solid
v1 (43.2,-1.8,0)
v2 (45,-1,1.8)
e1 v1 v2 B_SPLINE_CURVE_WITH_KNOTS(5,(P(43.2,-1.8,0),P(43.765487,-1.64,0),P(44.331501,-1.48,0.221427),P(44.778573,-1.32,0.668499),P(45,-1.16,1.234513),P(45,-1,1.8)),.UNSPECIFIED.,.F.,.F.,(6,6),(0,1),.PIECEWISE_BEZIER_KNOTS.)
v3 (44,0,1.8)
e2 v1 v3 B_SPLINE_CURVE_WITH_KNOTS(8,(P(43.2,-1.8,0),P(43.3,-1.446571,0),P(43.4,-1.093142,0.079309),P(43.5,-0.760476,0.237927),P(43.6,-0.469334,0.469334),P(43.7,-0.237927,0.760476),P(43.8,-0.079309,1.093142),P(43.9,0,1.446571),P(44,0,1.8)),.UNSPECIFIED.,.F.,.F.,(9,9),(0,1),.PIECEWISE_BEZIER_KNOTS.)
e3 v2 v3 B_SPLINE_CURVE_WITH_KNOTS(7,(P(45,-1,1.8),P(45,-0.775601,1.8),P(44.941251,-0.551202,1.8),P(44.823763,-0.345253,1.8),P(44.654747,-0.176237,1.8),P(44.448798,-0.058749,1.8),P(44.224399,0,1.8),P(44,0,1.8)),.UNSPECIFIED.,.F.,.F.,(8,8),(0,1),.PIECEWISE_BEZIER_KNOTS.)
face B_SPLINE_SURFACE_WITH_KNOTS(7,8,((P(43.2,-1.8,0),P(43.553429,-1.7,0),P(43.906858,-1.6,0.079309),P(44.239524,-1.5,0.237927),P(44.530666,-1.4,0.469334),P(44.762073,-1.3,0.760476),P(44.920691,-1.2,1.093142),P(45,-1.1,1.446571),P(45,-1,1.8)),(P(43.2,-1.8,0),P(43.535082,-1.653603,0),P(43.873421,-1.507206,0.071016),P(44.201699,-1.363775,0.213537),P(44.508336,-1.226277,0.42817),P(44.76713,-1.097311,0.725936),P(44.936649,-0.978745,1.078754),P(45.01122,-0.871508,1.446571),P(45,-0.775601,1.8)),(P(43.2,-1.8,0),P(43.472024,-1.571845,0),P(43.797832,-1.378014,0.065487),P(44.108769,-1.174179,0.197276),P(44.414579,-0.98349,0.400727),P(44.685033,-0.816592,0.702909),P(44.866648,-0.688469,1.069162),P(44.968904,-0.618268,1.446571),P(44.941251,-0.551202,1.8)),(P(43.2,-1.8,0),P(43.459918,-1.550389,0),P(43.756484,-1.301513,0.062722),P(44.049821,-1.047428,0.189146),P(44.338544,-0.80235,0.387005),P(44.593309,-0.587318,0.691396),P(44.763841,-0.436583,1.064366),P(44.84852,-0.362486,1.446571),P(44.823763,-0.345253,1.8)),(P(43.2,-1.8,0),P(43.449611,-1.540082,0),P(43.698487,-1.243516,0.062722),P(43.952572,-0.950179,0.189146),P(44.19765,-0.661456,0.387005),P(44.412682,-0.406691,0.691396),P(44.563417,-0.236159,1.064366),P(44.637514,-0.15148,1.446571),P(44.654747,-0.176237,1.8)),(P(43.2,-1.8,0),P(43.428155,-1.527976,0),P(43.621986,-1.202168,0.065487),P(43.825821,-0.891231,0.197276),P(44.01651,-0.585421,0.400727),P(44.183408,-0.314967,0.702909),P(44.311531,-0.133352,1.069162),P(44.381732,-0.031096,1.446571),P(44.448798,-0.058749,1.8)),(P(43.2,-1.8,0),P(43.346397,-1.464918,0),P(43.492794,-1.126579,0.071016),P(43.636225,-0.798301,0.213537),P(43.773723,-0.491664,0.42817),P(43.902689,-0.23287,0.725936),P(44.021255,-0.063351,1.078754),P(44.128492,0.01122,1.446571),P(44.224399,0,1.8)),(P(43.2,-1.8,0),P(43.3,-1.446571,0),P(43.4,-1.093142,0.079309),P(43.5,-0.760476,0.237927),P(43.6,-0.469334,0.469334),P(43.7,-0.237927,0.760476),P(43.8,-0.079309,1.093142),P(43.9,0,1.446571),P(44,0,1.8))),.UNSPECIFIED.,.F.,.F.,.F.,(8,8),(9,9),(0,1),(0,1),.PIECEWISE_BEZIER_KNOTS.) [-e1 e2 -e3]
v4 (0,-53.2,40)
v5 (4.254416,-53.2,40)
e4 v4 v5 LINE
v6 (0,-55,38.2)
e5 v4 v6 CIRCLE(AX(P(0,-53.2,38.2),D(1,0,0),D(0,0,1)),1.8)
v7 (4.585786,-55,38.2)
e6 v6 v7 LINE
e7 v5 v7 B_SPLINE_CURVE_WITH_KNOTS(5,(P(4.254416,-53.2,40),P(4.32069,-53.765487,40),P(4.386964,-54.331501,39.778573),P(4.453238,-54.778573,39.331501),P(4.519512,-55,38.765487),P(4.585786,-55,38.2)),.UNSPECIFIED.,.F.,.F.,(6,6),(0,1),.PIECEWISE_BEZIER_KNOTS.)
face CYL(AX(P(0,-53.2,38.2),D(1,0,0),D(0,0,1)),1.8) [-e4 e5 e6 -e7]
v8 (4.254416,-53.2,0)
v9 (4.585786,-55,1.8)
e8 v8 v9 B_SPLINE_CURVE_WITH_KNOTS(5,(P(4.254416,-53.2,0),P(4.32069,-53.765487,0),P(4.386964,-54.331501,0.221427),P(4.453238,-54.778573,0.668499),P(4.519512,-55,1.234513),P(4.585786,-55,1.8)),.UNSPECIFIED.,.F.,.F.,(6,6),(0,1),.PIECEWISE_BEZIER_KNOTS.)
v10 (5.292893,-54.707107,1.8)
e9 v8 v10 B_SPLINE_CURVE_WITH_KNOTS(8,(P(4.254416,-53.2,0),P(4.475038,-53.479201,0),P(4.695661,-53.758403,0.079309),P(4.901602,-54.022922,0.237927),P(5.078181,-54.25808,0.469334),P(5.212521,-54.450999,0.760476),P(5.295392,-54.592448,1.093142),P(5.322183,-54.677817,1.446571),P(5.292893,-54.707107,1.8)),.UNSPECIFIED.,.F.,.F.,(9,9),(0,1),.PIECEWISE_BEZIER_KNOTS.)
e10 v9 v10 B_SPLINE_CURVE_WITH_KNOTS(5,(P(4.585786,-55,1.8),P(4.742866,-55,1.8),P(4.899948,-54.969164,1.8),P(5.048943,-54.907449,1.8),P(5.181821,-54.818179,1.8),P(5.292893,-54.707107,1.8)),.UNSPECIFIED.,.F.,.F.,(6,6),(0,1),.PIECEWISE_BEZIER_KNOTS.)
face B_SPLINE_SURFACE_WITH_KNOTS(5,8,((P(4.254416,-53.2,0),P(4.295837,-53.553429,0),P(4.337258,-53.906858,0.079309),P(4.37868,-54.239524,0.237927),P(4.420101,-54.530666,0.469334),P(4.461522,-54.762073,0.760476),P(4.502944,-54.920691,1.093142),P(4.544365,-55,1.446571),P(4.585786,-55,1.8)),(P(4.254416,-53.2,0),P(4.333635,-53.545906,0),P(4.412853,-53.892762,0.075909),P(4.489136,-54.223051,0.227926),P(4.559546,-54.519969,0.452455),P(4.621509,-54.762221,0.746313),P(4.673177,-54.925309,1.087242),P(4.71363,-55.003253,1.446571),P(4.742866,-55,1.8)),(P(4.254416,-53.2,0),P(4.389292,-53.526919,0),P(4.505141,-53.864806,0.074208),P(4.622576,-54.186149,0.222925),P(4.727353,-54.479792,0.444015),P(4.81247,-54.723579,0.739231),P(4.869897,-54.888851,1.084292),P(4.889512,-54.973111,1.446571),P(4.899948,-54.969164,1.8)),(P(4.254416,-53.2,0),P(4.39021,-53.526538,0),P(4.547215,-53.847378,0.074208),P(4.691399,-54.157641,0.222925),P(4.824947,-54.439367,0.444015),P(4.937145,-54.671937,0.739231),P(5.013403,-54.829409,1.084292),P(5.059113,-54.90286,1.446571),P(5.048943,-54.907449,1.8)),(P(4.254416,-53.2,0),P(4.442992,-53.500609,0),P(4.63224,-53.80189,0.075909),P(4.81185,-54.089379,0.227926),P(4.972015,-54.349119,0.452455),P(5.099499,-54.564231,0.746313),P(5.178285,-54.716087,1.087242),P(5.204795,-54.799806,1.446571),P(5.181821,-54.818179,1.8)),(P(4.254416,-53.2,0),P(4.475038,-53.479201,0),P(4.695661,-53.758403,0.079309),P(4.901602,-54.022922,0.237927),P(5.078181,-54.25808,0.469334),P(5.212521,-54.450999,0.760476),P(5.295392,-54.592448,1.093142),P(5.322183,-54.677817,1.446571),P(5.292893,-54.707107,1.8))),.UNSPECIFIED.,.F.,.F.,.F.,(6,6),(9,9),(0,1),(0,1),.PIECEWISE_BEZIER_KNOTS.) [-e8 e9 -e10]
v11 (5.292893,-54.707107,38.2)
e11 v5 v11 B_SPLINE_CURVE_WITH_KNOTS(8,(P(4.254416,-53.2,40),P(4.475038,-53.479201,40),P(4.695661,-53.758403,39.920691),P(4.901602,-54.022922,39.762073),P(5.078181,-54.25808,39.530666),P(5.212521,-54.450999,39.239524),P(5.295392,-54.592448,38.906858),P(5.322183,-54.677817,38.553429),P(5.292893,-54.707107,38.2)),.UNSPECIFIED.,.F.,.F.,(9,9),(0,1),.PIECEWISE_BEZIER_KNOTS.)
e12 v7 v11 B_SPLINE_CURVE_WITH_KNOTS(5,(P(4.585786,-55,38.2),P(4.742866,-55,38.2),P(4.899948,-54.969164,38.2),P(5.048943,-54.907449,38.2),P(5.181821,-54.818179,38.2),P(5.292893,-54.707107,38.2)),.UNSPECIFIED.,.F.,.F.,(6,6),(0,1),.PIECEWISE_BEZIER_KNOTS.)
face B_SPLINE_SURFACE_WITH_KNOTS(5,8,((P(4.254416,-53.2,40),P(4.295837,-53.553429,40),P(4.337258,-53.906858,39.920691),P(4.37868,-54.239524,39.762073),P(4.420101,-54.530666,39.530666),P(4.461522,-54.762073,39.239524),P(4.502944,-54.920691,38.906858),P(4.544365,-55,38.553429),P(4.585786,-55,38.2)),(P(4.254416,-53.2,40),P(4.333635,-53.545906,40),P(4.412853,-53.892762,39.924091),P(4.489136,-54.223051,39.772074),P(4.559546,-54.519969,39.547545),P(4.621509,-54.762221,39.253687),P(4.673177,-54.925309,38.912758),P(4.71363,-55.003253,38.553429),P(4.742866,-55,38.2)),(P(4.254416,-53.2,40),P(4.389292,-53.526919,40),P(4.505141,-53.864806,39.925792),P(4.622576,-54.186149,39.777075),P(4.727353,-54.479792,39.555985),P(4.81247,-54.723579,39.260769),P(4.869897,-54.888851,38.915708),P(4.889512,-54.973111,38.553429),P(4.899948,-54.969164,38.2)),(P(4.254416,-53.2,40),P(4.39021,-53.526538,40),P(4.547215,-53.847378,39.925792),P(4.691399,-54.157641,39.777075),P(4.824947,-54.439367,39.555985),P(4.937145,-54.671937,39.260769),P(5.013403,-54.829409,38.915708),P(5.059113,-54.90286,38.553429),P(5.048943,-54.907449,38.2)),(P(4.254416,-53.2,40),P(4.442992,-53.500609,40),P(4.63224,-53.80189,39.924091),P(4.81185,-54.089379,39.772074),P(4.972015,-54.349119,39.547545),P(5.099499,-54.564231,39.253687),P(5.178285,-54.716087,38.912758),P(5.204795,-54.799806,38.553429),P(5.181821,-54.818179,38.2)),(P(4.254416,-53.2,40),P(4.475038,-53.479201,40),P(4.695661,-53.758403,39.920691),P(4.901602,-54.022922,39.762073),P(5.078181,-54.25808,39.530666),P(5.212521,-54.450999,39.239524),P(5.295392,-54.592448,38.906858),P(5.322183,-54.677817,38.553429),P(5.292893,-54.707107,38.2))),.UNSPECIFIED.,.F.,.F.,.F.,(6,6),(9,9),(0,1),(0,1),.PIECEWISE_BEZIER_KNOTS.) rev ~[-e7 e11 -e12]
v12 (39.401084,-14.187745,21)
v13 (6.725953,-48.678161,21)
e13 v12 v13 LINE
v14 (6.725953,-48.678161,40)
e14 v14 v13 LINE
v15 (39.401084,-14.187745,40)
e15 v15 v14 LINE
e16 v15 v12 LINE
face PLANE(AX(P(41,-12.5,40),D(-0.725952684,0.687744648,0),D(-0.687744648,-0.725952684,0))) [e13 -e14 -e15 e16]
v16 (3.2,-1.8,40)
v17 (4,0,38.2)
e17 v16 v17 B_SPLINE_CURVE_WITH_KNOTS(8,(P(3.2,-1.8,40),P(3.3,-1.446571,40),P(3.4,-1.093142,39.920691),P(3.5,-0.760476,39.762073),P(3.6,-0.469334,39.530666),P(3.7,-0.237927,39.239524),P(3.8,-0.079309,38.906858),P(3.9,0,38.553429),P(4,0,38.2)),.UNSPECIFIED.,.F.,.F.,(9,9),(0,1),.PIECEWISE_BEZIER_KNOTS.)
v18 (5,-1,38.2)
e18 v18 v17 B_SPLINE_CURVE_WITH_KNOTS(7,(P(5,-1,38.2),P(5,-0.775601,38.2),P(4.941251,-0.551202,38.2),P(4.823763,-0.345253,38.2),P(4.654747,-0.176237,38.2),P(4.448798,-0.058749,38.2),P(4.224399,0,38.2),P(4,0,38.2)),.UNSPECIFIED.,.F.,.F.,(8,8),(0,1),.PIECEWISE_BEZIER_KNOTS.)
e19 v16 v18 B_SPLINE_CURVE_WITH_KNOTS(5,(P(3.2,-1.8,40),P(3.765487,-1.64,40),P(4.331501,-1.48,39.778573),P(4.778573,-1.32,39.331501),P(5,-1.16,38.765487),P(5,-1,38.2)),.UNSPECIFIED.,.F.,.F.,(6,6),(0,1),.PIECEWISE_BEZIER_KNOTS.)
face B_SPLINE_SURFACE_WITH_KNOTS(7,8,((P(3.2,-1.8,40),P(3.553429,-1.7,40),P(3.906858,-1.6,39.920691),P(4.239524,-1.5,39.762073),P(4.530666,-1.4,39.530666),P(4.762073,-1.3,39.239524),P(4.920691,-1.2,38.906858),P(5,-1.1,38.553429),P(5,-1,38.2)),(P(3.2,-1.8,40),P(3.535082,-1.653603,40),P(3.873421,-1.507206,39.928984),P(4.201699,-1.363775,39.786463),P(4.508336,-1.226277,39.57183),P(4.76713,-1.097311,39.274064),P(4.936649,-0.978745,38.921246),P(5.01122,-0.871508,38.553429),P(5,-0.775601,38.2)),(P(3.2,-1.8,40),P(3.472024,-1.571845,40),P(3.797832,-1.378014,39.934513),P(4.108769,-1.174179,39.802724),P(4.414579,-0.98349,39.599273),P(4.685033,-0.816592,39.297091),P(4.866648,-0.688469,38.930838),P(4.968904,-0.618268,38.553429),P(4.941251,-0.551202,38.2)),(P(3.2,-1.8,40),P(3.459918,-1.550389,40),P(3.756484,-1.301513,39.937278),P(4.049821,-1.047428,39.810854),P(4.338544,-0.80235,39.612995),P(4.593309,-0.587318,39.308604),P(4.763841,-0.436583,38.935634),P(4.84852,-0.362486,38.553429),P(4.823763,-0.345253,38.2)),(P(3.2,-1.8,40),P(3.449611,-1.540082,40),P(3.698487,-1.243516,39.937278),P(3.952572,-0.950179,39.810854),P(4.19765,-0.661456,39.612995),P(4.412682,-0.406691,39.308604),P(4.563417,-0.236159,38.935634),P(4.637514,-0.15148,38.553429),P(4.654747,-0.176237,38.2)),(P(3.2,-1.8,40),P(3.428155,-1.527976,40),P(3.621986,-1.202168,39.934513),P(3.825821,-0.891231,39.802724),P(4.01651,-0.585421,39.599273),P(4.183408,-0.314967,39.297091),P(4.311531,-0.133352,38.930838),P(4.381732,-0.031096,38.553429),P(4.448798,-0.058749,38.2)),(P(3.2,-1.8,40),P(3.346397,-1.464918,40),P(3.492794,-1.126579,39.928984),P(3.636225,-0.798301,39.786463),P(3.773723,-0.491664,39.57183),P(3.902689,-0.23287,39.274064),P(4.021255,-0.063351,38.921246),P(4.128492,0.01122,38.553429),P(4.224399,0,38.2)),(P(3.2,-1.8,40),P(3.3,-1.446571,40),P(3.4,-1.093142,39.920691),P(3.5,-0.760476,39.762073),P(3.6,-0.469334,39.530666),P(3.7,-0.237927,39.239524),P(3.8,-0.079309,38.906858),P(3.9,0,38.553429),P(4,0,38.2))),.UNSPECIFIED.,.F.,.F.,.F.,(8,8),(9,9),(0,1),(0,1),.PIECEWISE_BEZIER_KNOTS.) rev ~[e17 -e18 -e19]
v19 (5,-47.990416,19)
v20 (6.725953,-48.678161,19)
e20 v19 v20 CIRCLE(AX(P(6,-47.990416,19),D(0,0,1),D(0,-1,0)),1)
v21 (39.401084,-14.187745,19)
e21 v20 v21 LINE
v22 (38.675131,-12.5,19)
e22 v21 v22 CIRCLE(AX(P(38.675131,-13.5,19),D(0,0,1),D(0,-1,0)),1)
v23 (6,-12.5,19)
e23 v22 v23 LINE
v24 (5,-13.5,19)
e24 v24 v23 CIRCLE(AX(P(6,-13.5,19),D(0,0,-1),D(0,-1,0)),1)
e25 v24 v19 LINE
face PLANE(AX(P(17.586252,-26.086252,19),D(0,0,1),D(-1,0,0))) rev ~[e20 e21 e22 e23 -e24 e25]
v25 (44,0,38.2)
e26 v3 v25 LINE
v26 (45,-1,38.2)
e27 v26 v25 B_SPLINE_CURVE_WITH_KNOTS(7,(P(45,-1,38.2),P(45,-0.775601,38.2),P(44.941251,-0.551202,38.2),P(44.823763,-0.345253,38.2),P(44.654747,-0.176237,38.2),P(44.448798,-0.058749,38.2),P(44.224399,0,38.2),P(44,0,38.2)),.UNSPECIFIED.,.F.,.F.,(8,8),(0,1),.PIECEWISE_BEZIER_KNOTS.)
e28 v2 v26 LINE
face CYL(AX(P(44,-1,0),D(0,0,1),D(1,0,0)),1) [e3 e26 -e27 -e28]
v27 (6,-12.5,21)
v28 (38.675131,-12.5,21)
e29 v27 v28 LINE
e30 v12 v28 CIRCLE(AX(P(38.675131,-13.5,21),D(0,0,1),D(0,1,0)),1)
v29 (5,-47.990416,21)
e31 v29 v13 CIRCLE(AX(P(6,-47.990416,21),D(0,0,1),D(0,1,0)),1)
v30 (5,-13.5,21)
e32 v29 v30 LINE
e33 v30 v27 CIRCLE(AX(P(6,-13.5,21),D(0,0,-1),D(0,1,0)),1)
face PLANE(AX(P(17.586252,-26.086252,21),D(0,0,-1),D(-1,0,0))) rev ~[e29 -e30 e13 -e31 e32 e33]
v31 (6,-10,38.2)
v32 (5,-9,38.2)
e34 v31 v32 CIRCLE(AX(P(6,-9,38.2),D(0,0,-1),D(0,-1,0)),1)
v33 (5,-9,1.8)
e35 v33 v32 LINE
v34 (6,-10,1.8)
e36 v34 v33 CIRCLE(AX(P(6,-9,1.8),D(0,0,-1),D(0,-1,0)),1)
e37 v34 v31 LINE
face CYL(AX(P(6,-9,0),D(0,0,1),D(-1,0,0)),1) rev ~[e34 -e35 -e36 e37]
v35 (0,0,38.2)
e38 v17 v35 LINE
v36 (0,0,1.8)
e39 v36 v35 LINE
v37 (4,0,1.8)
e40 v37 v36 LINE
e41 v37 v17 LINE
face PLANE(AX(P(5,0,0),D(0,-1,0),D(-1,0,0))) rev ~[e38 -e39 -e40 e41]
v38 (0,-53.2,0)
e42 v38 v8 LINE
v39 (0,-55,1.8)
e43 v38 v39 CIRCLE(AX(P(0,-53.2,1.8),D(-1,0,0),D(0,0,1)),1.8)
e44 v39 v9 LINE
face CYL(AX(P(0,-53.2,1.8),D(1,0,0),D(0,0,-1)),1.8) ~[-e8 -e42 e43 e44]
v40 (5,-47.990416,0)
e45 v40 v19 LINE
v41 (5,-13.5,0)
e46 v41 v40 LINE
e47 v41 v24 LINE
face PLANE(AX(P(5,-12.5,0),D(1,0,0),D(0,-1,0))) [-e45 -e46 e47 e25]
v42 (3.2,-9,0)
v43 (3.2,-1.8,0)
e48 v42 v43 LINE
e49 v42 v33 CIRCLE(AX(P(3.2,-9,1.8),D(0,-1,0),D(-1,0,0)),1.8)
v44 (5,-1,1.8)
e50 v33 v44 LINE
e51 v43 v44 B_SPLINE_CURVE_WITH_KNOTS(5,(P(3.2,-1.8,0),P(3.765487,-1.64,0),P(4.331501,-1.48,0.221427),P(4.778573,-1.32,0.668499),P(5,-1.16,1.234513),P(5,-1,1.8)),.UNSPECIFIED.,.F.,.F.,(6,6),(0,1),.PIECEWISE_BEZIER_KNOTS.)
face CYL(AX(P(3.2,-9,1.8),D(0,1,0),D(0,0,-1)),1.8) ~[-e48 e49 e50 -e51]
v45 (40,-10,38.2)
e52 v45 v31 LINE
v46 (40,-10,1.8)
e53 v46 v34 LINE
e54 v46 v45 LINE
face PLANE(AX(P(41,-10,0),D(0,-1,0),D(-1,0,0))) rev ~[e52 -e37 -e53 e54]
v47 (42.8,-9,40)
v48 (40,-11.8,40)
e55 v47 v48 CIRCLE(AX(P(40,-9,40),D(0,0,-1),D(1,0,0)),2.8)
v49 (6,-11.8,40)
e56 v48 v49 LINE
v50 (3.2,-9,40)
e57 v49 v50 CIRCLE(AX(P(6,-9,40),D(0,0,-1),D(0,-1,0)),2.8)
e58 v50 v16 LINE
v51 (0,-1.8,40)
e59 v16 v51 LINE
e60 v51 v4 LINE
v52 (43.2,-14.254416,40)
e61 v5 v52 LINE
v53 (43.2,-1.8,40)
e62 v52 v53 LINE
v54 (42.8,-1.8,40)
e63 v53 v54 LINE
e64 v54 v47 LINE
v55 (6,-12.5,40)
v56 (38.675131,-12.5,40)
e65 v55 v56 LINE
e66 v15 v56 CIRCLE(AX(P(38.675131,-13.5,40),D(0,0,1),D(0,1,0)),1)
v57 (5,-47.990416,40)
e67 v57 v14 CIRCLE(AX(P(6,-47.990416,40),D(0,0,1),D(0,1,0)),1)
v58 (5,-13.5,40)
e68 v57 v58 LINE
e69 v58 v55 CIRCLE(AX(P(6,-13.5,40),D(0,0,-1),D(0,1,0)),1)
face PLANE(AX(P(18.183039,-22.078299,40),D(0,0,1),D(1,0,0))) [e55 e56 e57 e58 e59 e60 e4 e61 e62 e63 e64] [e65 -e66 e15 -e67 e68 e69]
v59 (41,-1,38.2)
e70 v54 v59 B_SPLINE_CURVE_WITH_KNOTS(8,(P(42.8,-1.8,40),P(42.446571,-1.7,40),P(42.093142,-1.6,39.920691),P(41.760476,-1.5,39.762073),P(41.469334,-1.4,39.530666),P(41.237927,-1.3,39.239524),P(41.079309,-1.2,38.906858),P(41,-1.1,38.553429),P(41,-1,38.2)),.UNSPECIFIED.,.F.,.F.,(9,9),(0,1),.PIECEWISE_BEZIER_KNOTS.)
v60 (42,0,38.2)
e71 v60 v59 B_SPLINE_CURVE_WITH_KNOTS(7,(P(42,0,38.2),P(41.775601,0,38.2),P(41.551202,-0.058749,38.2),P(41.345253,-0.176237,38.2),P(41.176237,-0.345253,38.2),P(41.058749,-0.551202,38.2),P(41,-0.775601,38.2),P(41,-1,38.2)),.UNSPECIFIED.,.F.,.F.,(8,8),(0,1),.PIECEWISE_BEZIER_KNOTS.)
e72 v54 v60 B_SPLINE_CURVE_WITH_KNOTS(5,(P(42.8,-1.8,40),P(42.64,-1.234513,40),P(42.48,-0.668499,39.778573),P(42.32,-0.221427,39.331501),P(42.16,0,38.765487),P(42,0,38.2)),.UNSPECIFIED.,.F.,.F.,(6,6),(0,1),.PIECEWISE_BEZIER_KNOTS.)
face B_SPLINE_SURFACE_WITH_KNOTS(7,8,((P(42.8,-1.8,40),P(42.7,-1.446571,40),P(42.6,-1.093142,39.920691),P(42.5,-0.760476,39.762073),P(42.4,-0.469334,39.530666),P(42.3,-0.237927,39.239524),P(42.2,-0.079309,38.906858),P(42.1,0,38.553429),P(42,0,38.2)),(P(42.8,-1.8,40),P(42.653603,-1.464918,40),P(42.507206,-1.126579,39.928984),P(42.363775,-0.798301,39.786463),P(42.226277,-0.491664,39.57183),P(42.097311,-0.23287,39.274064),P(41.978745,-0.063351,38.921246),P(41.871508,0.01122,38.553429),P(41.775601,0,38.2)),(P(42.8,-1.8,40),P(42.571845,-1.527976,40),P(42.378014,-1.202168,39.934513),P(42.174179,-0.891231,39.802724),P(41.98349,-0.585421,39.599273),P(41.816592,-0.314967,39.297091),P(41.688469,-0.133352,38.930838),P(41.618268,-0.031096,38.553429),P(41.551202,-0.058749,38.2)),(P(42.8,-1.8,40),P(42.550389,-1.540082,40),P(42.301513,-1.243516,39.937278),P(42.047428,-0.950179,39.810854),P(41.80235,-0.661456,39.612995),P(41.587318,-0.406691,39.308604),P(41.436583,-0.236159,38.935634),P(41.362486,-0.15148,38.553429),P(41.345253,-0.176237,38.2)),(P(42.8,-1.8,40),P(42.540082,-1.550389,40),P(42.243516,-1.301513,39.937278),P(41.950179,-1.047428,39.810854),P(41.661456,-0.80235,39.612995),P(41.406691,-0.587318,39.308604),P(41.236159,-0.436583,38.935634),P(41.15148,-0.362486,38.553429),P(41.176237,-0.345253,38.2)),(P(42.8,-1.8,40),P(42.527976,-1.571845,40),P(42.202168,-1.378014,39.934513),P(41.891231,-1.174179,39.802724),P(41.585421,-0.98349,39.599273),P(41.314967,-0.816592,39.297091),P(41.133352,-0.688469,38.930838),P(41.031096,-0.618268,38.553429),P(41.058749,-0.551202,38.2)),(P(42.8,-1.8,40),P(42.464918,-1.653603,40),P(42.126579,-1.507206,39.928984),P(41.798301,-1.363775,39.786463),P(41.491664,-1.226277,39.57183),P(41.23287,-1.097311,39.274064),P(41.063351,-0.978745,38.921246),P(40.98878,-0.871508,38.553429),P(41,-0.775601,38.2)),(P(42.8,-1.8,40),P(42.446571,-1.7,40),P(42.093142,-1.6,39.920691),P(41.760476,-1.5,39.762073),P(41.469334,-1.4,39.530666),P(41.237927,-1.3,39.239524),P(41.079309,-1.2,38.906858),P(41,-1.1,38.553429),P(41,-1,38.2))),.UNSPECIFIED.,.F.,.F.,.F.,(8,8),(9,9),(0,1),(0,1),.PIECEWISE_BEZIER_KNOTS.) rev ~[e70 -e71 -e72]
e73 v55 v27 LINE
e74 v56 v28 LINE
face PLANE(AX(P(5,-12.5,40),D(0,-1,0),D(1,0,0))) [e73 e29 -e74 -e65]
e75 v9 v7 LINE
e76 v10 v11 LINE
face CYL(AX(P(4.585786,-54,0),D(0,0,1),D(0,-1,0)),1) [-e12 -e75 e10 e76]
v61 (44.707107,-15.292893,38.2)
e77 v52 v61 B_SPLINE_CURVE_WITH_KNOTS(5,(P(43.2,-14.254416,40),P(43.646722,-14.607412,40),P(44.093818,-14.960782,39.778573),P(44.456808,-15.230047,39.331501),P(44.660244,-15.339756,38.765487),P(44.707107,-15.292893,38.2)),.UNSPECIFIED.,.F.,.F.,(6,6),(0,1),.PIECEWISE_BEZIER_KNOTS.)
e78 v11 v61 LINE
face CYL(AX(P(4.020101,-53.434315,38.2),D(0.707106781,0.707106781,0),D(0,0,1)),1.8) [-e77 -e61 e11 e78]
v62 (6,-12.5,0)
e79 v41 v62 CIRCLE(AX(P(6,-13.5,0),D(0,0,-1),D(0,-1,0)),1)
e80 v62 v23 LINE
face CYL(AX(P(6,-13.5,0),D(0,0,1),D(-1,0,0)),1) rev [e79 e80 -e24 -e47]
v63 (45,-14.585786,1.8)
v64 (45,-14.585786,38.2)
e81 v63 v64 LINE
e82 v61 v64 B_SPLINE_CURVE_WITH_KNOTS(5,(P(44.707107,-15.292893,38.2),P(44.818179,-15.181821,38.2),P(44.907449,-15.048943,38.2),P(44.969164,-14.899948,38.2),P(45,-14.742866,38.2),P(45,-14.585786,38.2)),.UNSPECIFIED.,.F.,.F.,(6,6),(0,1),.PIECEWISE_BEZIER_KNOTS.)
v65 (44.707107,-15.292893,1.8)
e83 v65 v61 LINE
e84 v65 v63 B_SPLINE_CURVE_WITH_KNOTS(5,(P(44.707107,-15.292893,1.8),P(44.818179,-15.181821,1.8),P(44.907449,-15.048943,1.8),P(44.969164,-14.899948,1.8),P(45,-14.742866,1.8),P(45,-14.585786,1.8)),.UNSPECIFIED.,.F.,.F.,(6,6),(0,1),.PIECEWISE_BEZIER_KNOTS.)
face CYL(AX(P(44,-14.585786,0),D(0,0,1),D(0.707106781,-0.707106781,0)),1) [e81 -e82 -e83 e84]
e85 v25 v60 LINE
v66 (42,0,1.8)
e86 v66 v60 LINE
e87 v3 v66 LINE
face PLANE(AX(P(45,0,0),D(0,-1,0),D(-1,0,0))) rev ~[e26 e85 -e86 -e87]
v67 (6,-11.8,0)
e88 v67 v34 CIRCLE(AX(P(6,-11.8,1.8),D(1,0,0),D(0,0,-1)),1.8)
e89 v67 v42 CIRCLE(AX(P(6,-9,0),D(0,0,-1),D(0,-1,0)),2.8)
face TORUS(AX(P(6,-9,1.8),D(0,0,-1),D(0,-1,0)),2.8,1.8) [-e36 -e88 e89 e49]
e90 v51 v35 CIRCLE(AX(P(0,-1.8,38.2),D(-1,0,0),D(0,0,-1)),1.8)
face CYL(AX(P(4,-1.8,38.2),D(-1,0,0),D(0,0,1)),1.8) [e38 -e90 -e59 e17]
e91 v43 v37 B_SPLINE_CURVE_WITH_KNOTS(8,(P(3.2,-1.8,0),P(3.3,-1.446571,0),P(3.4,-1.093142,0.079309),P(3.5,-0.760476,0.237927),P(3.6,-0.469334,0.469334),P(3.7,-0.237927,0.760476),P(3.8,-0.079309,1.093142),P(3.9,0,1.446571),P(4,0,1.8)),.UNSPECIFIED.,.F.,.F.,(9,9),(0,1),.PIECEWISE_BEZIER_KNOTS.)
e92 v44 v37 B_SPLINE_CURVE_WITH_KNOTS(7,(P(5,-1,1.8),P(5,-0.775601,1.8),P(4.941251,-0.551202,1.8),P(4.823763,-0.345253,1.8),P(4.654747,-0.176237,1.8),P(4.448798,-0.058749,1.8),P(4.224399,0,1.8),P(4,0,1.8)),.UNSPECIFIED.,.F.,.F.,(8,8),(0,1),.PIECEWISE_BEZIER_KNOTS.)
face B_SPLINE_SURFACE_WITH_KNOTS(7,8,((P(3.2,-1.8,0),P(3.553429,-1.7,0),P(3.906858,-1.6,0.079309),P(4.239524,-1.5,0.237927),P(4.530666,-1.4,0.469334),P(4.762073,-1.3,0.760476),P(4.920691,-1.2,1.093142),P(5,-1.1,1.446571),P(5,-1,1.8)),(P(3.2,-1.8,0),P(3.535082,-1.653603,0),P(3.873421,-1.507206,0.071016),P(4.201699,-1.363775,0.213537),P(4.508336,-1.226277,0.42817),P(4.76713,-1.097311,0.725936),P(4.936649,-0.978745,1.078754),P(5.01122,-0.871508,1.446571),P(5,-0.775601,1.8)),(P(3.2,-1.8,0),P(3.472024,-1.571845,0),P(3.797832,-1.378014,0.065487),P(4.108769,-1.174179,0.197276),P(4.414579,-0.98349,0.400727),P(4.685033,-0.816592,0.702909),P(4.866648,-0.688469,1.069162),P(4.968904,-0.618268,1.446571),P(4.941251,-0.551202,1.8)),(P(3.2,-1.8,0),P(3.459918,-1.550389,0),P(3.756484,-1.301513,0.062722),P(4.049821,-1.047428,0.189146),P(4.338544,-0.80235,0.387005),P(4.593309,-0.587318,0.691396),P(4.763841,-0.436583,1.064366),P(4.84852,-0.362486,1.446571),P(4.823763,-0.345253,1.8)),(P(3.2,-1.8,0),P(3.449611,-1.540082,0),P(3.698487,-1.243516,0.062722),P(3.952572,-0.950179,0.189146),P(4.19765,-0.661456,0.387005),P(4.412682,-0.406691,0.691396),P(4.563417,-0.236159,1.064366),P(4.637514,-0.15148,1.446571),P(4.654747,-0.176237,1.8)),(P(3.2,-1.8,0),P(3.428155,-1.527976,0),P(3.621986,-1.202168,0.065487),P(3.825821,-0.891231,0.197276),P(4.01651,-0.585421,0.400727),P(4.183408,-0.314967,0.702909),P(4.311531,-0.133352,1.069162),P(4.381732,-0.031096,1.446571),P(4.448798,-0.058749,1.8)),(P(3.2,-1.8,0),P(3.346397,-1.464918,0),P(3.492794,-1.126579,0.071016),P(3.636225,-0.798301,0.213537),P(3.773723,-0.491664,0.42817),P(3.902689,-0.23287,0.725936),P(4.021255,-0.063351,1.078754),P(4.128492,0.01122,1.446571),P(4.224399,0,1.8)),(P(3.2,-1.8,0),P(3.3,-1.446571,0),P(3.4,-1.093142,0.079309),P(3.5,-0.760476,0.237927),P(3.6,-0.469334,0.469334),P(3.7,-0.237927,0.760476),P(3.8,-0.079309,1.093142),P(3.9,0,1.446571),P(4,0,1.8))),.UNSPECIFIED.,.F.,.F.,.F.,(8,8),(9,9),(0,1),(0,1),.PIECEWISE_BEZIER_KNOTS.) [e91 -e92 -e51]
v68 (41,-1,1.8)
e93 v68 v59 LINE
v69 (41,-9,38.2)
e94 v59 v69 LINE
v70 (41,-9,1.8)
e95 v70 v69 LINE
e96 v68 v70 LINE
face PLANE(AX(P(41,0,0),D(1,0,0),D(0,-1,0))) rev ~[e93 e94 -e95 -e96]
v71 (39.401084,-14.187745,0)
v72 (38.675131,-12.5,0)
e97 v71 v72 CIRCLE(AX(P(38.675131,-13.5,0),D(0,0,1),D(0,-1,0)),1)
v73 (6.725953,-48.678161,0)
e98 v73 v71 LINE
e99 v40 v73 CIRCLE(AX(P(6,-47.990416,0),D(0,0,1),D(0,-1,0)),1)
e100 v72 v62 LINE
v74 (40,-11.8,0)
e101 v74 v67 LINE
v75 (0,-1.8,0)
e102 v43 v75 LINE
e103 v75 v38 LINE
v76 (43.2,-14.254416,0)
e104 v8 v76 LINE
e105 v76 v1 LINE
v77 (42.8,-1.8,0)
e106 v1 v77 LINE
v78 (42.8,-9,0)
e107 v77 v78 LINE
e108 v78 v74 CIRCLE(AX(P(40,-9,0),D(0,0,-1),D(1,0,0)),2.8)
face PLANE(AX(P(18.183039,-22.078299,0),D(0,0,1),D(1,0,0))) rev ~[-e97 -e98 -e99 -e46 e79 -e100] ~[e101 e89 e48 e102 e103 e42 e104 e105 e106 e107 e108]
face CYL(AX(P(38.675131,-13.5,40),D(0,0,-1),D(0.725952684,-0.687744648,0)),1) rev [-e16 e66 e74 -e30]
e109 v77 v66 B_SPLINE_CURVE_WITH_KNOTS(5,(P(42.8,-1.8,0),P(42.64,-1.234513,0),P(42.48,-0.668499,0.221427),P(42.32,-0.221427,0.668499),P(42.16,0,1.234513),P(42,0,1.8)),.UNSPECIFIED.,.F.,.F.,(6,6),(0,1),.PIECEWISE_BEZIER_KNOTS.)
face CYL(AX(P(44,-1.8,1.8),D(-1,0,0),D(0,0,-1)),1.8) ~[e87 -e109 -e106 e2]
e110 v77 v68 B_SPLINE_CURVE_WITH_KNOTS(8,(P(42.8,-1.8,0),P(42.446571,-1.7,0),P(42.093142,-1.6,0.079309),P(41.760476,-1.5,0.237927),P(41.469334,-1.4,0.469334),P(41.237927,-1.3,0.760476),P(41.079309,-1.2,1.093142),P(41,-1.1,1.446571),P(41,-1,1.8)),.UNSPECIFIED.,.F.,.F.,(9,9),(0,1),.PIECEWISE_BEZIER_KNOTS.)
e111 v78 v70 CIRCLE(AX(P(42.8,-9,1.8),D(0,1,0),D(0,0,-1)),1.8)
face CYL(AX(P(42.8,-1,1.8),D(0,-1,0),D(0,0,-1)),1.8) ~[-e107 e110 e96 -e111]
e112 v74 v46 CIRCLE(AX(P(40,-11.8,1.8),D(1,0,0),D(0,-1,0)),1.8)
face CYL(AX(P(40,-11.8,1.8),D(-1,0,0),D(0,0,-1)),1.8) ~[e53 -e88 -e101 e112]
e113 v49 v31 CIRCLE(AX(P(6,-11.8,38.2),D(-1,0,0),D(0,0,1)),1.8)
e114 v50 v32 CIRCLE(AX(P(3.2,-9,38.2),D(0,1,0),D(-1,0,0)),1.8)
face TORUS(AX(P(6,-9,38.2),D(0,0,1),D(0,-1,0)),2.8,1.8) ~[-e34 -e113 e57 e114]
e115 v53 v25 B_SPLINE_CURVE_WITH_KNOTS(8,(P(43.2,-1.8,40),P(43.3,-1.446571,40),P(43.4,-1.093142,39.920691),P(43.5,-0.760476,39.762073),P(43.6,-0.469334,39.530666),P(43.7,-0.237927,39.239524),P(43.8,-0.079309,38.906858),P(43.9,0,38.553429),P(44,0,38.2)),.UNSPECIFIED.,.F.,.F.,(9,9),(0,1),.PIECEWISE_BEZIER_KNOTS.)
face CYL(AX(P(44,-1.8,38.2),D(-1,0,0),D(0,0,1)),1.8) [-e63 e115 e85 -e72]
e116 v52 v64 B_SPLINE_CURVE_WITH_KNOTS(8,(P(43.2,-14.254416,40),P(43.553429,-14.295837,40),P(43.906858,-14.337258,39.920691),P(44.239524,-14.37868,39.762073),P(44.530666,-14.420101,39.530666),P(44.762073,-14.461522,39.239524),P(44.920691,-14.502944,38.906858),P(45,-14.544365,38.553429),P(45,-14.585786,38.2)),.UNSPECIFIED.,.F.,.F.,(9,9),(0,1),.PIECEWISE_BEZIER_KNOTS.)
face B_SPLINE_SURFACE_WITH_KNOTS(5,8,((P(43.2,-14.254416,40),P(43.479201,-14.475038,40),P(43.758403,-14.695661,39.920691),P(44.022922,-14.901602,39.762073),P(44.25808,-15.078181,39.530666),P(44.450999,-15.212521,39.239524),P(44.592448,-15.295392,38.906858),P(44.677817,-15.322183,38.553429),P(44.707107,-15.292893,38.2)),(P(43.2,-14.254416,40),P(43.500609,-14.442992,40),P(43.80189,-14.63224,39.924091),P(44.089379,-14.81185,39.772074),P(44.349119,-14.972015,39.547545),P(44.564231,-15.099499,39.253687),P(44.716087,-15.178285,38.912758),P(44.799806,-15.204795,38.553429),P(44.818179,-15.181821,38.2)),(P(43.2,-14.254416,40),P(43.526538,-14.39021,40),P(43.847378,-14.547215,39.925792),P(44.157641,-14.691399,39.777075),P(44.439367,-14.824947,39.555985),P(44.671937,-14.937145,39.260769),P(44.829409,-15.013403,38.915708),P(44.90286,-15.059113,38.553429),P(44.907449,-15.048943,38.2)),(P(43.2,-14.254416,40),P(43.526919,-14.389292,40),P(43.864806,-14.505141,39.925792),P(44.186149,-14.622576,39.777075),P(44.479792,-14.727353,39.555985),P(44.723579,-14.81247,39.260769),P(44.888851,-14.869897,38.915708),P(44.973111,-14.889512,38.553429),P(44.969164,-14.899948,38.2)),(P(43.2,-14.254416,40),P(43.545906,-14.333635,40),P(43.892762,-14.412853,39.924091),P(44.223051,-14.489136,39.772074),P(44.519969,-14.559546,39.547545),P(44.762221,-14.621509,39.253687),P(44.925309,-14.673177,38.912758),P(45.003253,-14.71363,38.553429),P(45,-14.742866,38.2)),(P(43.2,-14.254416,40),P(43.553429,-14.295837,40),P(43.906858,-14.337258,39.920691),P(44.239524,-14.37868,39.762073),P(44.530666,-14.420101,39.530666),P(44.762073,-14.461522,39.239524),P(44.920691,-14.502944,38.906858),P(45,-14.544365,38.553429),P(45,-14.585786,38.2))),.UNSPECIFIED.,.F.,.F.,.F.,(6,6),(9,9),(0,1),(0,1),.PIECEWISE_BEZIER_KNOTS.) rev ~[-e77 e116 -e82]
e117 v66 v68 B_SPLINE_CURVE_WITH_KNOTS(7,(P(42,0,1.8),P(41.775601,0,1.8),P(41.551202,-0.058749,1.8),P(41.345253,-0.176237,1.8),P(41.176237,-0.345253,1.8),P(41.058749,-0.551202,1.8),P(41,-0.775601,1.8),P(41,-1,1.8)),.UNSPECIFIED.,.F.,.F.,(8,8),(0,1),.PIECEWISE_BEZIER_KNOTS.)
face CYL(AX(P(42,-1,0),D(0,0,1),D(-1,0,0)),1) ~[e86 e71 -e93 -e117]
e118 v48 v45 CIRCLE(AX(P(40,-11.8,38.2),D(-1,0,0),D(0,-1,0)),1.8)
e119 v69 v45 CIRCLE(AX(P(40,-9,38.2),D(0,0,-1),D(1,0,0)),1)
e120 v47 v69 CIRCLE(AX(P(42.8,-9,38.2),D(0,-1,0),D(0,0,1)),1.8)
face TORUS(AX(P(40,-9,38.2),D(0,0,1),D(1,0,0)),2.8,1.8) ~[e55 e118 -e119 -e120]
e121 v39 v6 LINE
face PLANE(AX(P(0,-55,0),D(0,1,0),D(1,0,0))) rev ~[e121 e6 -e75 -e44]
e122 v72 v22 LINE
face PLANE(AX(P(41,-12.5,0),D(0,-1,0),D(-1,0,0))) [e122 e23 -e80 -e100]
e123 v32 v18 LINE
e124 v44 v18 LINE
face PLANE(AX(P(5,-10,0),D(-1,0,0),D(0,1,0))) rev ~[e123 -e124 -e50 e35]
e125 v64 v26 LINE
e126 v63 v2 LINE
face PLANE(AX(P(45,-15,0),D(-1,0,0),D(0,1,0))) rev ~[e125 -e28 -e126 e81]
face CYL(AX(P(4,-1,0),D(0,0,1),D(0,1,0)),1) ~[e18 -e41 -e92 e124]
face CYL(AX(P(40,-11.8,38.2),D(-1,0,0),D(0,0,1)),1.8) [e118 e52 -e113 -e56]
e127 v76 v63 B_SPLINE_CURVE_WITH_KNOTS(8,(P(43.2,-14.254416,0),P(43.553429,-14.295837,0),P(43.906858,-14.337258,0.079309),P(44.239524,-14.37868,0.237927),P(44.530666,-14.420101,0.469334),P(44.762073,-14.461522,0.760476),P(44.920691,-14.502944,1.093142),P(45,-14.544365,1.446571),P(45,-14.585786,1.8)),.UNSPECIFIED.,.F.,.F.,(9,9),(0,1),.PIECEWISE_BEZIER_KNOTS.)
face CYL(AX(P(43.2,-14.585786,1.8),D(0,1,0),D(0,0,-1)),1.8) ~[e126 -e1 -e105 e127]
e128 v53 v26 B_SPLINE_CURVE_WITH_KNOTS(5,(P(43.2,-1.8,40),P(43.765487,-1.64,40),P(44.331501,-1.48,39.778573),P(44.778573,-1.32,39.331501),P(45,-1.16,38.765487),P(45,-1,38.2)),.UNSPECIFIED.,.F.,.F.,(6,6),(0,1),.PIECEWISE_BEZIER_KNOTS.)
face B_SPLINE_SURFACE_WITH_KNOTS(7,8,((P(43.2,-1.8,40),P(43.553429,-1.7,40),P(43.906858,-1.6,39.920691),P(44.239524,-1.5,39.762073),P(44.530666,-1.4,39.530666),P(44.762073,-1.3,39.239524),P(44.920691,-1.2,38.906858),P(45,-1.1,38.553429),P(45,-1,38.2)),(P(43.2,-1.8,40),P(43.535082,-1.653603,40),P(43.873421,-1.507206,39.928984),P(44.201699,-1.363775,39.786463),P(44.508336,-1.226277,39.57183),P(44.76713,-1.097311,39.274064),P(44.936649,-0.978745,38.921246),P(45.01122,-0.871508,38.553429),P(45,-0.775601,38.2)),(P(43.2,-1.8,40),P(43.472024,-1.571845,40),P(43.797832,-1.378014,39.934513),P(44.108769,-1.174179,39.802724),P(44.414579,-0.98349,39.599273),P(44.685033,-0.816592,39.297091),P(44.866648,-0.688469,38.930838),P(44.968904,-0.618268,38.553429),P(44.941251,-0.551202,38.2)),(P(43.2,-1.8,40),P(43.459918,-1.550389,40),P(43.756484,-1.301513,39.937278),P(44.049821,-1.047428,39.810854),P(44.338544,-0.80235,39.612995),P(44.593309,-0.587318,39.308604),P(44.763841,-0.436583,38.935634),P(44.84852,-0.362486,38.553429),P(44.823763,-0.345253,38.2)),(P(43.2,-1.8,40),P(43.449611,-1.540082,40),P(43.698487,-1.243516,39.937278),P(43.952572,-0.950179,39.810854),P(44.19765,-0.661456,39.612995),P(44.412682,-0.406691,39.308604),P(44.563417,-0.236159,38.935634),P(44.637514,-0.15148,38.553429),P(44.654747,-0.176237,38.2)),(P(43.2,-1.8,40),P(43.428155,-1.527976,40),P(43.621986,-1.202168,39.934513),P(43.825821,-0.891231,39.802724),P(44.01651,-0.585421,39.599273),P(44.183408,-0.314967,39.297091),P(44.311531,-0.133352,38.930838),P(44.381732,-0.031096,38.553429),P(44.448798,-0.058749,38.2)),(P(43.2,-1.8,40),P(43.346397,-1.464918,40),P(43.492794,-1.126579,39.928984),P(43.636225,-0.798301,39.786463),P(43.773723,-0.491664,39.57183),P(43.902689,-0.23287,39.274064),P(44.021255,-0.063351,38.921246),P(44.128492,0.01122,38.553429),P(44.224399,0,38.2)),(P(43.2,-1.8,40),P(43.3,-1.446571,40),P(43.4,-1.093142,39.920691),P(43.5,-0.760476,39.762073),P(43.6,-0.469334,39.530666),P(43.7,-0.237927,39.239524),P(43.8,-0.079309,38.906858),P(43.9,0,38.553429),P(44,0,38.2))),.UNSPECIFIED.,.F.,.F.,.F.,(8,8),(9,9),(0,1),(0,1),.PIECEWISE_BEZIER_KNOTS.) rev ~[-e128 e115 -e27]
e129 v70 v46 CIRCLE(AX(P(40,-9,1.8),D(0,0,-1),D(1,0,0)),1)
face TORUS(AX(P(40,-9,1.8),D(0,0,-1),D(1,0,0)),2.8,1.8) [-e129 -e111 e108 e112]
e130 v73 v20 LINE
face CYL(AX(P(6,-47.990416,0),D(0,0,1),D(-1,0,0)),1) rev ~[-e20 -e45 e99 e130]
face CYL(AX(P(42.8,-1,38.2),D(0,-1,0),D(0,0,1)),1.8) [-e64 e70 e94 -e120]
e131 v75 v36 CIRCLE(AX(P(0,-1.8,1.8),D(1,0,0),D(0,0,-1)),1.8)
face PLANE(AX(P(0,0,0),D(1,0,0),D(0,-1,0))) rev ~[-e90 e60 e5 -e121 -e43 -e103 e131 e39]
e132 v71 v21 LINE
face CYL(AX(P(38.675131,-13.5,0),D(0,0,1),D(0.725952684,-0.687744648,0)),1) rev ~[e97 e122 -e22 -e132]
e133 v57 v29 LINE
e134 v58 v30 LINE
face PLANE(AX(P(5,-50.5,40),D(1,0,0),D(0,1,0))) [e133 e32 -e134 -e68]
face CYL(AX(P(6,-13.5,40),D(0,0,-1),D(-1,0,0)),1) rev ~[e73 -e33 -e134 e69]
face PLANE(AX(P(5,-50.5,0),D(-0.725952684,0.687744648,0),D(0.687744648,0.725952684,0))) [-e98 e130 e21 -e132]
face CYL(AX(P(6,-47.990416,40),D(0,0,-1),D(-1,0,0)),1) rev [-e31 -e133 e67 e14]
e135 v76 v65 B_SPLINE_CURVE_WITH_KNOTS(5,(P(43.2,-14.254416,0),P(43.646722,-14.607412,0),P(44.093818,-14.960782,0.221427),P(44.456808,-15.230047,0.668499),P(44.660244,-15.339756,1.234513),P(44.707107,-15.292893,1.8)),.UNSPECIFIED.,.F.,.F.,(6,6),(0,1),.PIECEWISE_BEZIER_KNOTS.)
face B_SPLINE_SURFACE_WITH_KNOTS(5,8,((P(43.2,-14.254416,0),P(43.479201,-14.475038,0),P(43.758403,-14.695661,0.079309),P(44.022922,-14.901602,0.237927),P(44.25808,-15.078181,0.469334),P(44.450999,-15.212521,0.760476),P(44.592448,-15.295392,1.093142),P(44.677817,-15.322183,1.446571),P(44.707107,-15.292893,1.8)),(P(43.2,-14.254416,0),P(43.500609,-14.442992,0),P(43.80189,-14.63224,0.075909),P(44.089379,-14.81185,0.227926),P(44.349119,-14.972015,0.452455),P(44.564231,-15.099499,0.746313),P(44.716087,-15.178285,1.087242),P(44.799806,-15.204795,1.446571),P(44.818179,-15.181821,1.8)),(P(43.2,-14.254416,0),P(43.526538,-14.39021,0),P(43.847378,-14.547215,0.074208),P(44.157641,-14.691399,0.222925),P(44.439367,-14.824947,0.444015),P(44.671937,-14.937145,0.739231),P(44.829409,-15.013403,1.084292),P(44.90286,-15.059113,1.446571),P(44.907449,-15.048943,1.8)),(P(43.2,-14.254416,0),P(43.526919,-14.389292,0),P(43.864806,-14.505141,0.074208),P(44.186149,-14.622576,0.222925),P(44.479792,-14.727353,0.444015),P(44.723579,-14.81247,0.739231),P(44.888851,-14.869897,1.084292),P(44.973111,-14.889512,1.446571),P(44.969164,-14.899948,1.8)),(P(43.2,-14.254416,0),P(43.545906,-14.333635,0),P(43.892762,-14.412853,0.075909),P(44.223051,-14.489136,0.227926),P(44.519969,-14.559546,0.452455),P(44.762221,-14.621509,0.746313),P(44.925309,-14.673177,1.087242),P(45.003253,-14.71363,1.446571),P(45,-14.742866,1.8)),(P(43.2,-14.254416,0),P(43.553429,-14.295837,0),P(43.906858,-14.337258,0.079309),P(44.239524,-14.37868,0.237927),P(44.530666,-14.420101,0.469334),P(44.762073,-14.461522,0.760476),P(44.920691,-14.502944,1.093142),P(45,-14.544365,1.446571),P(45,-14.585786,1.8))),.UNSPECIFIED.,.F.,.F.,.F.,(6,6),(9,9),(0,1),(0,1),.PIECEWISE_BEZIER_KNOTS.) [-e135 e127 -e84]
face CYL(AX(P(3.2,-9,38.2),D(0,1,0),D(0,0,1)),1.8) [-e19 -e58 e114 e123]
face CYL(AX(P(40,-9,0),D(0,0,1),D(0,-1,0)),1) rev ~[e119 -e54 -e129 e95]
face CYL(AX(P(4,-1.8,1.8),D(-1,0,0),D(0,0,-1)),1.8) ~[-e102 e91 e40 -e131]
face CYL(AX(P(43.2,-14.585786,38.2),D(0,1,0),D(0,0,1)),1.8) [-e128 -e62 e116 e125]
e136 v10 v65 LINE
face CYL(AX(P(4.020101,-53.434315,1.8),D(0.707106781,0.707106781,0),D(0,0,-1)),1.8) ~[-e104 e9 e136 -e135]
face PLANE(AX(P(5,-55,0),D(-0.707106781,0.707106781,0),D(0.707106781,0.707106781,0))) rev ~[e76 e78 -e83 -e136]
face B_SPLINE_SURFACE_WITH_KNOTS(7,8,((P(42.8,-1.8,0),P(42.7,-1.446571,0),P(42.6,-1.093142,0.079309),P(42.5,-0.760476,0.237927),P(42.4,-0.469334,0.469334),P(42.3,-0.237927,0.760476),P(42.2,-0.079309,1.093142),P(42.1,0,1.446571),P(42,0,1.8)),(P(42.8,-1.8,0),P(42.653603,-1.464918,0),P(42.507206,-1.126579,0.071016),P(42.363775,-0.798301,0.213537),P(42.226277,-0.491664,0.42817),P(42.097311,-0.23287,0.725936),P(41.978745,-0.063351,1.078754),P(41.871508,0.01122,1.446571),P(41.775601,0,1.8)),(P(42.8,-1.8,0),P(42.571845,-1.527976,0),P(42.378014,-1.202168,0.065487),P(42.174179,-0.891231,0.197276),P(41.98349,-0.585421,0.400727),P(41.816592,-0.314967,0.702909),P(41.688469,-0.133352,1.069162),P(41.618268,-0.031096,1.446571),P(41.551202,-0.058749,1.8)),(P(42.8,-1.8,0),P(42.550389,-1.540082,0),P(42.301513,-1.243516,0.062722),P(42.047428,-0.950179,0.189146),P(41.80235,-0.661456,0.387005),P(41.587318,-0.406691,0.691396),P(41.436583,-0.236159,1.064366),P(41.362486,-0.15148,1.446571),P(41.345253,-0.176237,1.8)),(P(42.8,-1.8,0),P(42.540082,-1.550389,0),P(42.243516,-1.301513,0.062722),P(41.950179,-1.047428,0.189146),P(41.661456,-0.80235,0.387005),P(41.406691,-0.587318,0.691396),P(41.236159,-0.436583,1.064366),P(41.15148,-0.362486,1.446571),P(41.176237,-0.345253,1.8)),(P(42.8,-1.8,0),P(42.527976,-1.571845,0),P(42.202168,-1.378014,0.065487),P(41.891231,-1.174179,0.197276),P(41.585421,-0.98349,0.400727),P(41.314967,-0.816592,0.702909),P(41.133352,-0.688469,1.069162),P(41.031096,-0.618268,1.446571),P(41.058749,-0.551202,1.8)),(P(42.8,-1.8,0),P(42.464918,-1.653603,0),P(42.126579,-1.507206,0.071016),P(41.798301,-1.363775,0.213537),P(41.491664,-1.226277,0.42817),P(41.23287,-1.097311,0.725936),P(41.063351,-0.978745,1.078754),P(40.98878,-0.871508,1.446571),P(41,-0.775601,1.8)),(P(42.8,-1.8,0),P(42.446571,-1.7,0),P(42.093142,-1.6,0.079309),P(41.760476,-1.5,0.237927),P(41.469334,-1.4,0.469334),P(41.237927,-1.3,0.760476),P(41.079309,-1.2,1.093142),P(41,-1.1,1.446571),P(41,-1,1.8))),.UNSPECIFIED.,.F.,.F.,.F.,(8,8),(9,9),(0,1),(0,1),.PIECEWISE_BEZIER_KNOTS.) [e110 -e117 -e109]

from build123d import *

# Parameters (mm, degrees)
PAD_DEPTH       = 40
POCKET_DEPTH    = 19
POCKET001_DEPTH = 19
FILLET_R        = 1
FILLET001_R     = 1.8


with BuildPart() as part:
    # Sketch → Pad (new body)
    with BuildSketch(Plane.XY):
        Polygon((0, 0), (0, -55), (5, -55), (45, -15), (45, 0), (41, 0), (41, -10), (5, -10), (5, 0), align=None)
    extrude(amount=PAD_DEPTH)

    # Sketch001 (on Face10 of Pad) → Pocket (cut)
    with BuildSketch(Plane(origin=(0, 0, 0), x_dir=(1, 0, 0), z_dir=(0, 0, -1))):
        Polygon((5, 12.5), (5, 50.5), (41, 12.5), align=None)
    extrude(amount=-POCKET_DEPTH, mode=Mode.SUBTRACT)

    # Sketch002 (on Face5 of Pocket) → Pocket001 (cut)
    with BuildSketch(Plane.XY.offset(40)):
        Polygon((5, -12.5), (41, -12.5), (5, -50.5), align=None)
    extrude(amount=-POCKET001_DEPTH, mode=Mode.SUBTRACT)

    # Fillet
    fillet_edges = [part.edges().sort_by_distance(p)[0] for p in [
        (5, 0, 20),
        (5, -10, 20),
        (45, -15, 20),
        (45, 0, 20),
        (41, 0, 20),
        (5, -55, 20),
        (41, -10, 20),
        (41, -12.5, 30.5),
        (5, -12.5, 30.5),
        (5, -50.5, 30.5),
        (5, -12.5, 9.5),
        (5, -50.5, 9.5),
        (41, -12.5, 9.5),
    ]]
    fillet(fillet_edges, radius=FILLET_R)

    # Fillet001
    fillet001_edges = [part.edges().sort_by_distance(p)[0] for p in [
        (23, -10, 40),
        (23, -10, 0),
    ]]
    fillet(fillet001_edges, radius=FILLET001_R)


solid = part.part
